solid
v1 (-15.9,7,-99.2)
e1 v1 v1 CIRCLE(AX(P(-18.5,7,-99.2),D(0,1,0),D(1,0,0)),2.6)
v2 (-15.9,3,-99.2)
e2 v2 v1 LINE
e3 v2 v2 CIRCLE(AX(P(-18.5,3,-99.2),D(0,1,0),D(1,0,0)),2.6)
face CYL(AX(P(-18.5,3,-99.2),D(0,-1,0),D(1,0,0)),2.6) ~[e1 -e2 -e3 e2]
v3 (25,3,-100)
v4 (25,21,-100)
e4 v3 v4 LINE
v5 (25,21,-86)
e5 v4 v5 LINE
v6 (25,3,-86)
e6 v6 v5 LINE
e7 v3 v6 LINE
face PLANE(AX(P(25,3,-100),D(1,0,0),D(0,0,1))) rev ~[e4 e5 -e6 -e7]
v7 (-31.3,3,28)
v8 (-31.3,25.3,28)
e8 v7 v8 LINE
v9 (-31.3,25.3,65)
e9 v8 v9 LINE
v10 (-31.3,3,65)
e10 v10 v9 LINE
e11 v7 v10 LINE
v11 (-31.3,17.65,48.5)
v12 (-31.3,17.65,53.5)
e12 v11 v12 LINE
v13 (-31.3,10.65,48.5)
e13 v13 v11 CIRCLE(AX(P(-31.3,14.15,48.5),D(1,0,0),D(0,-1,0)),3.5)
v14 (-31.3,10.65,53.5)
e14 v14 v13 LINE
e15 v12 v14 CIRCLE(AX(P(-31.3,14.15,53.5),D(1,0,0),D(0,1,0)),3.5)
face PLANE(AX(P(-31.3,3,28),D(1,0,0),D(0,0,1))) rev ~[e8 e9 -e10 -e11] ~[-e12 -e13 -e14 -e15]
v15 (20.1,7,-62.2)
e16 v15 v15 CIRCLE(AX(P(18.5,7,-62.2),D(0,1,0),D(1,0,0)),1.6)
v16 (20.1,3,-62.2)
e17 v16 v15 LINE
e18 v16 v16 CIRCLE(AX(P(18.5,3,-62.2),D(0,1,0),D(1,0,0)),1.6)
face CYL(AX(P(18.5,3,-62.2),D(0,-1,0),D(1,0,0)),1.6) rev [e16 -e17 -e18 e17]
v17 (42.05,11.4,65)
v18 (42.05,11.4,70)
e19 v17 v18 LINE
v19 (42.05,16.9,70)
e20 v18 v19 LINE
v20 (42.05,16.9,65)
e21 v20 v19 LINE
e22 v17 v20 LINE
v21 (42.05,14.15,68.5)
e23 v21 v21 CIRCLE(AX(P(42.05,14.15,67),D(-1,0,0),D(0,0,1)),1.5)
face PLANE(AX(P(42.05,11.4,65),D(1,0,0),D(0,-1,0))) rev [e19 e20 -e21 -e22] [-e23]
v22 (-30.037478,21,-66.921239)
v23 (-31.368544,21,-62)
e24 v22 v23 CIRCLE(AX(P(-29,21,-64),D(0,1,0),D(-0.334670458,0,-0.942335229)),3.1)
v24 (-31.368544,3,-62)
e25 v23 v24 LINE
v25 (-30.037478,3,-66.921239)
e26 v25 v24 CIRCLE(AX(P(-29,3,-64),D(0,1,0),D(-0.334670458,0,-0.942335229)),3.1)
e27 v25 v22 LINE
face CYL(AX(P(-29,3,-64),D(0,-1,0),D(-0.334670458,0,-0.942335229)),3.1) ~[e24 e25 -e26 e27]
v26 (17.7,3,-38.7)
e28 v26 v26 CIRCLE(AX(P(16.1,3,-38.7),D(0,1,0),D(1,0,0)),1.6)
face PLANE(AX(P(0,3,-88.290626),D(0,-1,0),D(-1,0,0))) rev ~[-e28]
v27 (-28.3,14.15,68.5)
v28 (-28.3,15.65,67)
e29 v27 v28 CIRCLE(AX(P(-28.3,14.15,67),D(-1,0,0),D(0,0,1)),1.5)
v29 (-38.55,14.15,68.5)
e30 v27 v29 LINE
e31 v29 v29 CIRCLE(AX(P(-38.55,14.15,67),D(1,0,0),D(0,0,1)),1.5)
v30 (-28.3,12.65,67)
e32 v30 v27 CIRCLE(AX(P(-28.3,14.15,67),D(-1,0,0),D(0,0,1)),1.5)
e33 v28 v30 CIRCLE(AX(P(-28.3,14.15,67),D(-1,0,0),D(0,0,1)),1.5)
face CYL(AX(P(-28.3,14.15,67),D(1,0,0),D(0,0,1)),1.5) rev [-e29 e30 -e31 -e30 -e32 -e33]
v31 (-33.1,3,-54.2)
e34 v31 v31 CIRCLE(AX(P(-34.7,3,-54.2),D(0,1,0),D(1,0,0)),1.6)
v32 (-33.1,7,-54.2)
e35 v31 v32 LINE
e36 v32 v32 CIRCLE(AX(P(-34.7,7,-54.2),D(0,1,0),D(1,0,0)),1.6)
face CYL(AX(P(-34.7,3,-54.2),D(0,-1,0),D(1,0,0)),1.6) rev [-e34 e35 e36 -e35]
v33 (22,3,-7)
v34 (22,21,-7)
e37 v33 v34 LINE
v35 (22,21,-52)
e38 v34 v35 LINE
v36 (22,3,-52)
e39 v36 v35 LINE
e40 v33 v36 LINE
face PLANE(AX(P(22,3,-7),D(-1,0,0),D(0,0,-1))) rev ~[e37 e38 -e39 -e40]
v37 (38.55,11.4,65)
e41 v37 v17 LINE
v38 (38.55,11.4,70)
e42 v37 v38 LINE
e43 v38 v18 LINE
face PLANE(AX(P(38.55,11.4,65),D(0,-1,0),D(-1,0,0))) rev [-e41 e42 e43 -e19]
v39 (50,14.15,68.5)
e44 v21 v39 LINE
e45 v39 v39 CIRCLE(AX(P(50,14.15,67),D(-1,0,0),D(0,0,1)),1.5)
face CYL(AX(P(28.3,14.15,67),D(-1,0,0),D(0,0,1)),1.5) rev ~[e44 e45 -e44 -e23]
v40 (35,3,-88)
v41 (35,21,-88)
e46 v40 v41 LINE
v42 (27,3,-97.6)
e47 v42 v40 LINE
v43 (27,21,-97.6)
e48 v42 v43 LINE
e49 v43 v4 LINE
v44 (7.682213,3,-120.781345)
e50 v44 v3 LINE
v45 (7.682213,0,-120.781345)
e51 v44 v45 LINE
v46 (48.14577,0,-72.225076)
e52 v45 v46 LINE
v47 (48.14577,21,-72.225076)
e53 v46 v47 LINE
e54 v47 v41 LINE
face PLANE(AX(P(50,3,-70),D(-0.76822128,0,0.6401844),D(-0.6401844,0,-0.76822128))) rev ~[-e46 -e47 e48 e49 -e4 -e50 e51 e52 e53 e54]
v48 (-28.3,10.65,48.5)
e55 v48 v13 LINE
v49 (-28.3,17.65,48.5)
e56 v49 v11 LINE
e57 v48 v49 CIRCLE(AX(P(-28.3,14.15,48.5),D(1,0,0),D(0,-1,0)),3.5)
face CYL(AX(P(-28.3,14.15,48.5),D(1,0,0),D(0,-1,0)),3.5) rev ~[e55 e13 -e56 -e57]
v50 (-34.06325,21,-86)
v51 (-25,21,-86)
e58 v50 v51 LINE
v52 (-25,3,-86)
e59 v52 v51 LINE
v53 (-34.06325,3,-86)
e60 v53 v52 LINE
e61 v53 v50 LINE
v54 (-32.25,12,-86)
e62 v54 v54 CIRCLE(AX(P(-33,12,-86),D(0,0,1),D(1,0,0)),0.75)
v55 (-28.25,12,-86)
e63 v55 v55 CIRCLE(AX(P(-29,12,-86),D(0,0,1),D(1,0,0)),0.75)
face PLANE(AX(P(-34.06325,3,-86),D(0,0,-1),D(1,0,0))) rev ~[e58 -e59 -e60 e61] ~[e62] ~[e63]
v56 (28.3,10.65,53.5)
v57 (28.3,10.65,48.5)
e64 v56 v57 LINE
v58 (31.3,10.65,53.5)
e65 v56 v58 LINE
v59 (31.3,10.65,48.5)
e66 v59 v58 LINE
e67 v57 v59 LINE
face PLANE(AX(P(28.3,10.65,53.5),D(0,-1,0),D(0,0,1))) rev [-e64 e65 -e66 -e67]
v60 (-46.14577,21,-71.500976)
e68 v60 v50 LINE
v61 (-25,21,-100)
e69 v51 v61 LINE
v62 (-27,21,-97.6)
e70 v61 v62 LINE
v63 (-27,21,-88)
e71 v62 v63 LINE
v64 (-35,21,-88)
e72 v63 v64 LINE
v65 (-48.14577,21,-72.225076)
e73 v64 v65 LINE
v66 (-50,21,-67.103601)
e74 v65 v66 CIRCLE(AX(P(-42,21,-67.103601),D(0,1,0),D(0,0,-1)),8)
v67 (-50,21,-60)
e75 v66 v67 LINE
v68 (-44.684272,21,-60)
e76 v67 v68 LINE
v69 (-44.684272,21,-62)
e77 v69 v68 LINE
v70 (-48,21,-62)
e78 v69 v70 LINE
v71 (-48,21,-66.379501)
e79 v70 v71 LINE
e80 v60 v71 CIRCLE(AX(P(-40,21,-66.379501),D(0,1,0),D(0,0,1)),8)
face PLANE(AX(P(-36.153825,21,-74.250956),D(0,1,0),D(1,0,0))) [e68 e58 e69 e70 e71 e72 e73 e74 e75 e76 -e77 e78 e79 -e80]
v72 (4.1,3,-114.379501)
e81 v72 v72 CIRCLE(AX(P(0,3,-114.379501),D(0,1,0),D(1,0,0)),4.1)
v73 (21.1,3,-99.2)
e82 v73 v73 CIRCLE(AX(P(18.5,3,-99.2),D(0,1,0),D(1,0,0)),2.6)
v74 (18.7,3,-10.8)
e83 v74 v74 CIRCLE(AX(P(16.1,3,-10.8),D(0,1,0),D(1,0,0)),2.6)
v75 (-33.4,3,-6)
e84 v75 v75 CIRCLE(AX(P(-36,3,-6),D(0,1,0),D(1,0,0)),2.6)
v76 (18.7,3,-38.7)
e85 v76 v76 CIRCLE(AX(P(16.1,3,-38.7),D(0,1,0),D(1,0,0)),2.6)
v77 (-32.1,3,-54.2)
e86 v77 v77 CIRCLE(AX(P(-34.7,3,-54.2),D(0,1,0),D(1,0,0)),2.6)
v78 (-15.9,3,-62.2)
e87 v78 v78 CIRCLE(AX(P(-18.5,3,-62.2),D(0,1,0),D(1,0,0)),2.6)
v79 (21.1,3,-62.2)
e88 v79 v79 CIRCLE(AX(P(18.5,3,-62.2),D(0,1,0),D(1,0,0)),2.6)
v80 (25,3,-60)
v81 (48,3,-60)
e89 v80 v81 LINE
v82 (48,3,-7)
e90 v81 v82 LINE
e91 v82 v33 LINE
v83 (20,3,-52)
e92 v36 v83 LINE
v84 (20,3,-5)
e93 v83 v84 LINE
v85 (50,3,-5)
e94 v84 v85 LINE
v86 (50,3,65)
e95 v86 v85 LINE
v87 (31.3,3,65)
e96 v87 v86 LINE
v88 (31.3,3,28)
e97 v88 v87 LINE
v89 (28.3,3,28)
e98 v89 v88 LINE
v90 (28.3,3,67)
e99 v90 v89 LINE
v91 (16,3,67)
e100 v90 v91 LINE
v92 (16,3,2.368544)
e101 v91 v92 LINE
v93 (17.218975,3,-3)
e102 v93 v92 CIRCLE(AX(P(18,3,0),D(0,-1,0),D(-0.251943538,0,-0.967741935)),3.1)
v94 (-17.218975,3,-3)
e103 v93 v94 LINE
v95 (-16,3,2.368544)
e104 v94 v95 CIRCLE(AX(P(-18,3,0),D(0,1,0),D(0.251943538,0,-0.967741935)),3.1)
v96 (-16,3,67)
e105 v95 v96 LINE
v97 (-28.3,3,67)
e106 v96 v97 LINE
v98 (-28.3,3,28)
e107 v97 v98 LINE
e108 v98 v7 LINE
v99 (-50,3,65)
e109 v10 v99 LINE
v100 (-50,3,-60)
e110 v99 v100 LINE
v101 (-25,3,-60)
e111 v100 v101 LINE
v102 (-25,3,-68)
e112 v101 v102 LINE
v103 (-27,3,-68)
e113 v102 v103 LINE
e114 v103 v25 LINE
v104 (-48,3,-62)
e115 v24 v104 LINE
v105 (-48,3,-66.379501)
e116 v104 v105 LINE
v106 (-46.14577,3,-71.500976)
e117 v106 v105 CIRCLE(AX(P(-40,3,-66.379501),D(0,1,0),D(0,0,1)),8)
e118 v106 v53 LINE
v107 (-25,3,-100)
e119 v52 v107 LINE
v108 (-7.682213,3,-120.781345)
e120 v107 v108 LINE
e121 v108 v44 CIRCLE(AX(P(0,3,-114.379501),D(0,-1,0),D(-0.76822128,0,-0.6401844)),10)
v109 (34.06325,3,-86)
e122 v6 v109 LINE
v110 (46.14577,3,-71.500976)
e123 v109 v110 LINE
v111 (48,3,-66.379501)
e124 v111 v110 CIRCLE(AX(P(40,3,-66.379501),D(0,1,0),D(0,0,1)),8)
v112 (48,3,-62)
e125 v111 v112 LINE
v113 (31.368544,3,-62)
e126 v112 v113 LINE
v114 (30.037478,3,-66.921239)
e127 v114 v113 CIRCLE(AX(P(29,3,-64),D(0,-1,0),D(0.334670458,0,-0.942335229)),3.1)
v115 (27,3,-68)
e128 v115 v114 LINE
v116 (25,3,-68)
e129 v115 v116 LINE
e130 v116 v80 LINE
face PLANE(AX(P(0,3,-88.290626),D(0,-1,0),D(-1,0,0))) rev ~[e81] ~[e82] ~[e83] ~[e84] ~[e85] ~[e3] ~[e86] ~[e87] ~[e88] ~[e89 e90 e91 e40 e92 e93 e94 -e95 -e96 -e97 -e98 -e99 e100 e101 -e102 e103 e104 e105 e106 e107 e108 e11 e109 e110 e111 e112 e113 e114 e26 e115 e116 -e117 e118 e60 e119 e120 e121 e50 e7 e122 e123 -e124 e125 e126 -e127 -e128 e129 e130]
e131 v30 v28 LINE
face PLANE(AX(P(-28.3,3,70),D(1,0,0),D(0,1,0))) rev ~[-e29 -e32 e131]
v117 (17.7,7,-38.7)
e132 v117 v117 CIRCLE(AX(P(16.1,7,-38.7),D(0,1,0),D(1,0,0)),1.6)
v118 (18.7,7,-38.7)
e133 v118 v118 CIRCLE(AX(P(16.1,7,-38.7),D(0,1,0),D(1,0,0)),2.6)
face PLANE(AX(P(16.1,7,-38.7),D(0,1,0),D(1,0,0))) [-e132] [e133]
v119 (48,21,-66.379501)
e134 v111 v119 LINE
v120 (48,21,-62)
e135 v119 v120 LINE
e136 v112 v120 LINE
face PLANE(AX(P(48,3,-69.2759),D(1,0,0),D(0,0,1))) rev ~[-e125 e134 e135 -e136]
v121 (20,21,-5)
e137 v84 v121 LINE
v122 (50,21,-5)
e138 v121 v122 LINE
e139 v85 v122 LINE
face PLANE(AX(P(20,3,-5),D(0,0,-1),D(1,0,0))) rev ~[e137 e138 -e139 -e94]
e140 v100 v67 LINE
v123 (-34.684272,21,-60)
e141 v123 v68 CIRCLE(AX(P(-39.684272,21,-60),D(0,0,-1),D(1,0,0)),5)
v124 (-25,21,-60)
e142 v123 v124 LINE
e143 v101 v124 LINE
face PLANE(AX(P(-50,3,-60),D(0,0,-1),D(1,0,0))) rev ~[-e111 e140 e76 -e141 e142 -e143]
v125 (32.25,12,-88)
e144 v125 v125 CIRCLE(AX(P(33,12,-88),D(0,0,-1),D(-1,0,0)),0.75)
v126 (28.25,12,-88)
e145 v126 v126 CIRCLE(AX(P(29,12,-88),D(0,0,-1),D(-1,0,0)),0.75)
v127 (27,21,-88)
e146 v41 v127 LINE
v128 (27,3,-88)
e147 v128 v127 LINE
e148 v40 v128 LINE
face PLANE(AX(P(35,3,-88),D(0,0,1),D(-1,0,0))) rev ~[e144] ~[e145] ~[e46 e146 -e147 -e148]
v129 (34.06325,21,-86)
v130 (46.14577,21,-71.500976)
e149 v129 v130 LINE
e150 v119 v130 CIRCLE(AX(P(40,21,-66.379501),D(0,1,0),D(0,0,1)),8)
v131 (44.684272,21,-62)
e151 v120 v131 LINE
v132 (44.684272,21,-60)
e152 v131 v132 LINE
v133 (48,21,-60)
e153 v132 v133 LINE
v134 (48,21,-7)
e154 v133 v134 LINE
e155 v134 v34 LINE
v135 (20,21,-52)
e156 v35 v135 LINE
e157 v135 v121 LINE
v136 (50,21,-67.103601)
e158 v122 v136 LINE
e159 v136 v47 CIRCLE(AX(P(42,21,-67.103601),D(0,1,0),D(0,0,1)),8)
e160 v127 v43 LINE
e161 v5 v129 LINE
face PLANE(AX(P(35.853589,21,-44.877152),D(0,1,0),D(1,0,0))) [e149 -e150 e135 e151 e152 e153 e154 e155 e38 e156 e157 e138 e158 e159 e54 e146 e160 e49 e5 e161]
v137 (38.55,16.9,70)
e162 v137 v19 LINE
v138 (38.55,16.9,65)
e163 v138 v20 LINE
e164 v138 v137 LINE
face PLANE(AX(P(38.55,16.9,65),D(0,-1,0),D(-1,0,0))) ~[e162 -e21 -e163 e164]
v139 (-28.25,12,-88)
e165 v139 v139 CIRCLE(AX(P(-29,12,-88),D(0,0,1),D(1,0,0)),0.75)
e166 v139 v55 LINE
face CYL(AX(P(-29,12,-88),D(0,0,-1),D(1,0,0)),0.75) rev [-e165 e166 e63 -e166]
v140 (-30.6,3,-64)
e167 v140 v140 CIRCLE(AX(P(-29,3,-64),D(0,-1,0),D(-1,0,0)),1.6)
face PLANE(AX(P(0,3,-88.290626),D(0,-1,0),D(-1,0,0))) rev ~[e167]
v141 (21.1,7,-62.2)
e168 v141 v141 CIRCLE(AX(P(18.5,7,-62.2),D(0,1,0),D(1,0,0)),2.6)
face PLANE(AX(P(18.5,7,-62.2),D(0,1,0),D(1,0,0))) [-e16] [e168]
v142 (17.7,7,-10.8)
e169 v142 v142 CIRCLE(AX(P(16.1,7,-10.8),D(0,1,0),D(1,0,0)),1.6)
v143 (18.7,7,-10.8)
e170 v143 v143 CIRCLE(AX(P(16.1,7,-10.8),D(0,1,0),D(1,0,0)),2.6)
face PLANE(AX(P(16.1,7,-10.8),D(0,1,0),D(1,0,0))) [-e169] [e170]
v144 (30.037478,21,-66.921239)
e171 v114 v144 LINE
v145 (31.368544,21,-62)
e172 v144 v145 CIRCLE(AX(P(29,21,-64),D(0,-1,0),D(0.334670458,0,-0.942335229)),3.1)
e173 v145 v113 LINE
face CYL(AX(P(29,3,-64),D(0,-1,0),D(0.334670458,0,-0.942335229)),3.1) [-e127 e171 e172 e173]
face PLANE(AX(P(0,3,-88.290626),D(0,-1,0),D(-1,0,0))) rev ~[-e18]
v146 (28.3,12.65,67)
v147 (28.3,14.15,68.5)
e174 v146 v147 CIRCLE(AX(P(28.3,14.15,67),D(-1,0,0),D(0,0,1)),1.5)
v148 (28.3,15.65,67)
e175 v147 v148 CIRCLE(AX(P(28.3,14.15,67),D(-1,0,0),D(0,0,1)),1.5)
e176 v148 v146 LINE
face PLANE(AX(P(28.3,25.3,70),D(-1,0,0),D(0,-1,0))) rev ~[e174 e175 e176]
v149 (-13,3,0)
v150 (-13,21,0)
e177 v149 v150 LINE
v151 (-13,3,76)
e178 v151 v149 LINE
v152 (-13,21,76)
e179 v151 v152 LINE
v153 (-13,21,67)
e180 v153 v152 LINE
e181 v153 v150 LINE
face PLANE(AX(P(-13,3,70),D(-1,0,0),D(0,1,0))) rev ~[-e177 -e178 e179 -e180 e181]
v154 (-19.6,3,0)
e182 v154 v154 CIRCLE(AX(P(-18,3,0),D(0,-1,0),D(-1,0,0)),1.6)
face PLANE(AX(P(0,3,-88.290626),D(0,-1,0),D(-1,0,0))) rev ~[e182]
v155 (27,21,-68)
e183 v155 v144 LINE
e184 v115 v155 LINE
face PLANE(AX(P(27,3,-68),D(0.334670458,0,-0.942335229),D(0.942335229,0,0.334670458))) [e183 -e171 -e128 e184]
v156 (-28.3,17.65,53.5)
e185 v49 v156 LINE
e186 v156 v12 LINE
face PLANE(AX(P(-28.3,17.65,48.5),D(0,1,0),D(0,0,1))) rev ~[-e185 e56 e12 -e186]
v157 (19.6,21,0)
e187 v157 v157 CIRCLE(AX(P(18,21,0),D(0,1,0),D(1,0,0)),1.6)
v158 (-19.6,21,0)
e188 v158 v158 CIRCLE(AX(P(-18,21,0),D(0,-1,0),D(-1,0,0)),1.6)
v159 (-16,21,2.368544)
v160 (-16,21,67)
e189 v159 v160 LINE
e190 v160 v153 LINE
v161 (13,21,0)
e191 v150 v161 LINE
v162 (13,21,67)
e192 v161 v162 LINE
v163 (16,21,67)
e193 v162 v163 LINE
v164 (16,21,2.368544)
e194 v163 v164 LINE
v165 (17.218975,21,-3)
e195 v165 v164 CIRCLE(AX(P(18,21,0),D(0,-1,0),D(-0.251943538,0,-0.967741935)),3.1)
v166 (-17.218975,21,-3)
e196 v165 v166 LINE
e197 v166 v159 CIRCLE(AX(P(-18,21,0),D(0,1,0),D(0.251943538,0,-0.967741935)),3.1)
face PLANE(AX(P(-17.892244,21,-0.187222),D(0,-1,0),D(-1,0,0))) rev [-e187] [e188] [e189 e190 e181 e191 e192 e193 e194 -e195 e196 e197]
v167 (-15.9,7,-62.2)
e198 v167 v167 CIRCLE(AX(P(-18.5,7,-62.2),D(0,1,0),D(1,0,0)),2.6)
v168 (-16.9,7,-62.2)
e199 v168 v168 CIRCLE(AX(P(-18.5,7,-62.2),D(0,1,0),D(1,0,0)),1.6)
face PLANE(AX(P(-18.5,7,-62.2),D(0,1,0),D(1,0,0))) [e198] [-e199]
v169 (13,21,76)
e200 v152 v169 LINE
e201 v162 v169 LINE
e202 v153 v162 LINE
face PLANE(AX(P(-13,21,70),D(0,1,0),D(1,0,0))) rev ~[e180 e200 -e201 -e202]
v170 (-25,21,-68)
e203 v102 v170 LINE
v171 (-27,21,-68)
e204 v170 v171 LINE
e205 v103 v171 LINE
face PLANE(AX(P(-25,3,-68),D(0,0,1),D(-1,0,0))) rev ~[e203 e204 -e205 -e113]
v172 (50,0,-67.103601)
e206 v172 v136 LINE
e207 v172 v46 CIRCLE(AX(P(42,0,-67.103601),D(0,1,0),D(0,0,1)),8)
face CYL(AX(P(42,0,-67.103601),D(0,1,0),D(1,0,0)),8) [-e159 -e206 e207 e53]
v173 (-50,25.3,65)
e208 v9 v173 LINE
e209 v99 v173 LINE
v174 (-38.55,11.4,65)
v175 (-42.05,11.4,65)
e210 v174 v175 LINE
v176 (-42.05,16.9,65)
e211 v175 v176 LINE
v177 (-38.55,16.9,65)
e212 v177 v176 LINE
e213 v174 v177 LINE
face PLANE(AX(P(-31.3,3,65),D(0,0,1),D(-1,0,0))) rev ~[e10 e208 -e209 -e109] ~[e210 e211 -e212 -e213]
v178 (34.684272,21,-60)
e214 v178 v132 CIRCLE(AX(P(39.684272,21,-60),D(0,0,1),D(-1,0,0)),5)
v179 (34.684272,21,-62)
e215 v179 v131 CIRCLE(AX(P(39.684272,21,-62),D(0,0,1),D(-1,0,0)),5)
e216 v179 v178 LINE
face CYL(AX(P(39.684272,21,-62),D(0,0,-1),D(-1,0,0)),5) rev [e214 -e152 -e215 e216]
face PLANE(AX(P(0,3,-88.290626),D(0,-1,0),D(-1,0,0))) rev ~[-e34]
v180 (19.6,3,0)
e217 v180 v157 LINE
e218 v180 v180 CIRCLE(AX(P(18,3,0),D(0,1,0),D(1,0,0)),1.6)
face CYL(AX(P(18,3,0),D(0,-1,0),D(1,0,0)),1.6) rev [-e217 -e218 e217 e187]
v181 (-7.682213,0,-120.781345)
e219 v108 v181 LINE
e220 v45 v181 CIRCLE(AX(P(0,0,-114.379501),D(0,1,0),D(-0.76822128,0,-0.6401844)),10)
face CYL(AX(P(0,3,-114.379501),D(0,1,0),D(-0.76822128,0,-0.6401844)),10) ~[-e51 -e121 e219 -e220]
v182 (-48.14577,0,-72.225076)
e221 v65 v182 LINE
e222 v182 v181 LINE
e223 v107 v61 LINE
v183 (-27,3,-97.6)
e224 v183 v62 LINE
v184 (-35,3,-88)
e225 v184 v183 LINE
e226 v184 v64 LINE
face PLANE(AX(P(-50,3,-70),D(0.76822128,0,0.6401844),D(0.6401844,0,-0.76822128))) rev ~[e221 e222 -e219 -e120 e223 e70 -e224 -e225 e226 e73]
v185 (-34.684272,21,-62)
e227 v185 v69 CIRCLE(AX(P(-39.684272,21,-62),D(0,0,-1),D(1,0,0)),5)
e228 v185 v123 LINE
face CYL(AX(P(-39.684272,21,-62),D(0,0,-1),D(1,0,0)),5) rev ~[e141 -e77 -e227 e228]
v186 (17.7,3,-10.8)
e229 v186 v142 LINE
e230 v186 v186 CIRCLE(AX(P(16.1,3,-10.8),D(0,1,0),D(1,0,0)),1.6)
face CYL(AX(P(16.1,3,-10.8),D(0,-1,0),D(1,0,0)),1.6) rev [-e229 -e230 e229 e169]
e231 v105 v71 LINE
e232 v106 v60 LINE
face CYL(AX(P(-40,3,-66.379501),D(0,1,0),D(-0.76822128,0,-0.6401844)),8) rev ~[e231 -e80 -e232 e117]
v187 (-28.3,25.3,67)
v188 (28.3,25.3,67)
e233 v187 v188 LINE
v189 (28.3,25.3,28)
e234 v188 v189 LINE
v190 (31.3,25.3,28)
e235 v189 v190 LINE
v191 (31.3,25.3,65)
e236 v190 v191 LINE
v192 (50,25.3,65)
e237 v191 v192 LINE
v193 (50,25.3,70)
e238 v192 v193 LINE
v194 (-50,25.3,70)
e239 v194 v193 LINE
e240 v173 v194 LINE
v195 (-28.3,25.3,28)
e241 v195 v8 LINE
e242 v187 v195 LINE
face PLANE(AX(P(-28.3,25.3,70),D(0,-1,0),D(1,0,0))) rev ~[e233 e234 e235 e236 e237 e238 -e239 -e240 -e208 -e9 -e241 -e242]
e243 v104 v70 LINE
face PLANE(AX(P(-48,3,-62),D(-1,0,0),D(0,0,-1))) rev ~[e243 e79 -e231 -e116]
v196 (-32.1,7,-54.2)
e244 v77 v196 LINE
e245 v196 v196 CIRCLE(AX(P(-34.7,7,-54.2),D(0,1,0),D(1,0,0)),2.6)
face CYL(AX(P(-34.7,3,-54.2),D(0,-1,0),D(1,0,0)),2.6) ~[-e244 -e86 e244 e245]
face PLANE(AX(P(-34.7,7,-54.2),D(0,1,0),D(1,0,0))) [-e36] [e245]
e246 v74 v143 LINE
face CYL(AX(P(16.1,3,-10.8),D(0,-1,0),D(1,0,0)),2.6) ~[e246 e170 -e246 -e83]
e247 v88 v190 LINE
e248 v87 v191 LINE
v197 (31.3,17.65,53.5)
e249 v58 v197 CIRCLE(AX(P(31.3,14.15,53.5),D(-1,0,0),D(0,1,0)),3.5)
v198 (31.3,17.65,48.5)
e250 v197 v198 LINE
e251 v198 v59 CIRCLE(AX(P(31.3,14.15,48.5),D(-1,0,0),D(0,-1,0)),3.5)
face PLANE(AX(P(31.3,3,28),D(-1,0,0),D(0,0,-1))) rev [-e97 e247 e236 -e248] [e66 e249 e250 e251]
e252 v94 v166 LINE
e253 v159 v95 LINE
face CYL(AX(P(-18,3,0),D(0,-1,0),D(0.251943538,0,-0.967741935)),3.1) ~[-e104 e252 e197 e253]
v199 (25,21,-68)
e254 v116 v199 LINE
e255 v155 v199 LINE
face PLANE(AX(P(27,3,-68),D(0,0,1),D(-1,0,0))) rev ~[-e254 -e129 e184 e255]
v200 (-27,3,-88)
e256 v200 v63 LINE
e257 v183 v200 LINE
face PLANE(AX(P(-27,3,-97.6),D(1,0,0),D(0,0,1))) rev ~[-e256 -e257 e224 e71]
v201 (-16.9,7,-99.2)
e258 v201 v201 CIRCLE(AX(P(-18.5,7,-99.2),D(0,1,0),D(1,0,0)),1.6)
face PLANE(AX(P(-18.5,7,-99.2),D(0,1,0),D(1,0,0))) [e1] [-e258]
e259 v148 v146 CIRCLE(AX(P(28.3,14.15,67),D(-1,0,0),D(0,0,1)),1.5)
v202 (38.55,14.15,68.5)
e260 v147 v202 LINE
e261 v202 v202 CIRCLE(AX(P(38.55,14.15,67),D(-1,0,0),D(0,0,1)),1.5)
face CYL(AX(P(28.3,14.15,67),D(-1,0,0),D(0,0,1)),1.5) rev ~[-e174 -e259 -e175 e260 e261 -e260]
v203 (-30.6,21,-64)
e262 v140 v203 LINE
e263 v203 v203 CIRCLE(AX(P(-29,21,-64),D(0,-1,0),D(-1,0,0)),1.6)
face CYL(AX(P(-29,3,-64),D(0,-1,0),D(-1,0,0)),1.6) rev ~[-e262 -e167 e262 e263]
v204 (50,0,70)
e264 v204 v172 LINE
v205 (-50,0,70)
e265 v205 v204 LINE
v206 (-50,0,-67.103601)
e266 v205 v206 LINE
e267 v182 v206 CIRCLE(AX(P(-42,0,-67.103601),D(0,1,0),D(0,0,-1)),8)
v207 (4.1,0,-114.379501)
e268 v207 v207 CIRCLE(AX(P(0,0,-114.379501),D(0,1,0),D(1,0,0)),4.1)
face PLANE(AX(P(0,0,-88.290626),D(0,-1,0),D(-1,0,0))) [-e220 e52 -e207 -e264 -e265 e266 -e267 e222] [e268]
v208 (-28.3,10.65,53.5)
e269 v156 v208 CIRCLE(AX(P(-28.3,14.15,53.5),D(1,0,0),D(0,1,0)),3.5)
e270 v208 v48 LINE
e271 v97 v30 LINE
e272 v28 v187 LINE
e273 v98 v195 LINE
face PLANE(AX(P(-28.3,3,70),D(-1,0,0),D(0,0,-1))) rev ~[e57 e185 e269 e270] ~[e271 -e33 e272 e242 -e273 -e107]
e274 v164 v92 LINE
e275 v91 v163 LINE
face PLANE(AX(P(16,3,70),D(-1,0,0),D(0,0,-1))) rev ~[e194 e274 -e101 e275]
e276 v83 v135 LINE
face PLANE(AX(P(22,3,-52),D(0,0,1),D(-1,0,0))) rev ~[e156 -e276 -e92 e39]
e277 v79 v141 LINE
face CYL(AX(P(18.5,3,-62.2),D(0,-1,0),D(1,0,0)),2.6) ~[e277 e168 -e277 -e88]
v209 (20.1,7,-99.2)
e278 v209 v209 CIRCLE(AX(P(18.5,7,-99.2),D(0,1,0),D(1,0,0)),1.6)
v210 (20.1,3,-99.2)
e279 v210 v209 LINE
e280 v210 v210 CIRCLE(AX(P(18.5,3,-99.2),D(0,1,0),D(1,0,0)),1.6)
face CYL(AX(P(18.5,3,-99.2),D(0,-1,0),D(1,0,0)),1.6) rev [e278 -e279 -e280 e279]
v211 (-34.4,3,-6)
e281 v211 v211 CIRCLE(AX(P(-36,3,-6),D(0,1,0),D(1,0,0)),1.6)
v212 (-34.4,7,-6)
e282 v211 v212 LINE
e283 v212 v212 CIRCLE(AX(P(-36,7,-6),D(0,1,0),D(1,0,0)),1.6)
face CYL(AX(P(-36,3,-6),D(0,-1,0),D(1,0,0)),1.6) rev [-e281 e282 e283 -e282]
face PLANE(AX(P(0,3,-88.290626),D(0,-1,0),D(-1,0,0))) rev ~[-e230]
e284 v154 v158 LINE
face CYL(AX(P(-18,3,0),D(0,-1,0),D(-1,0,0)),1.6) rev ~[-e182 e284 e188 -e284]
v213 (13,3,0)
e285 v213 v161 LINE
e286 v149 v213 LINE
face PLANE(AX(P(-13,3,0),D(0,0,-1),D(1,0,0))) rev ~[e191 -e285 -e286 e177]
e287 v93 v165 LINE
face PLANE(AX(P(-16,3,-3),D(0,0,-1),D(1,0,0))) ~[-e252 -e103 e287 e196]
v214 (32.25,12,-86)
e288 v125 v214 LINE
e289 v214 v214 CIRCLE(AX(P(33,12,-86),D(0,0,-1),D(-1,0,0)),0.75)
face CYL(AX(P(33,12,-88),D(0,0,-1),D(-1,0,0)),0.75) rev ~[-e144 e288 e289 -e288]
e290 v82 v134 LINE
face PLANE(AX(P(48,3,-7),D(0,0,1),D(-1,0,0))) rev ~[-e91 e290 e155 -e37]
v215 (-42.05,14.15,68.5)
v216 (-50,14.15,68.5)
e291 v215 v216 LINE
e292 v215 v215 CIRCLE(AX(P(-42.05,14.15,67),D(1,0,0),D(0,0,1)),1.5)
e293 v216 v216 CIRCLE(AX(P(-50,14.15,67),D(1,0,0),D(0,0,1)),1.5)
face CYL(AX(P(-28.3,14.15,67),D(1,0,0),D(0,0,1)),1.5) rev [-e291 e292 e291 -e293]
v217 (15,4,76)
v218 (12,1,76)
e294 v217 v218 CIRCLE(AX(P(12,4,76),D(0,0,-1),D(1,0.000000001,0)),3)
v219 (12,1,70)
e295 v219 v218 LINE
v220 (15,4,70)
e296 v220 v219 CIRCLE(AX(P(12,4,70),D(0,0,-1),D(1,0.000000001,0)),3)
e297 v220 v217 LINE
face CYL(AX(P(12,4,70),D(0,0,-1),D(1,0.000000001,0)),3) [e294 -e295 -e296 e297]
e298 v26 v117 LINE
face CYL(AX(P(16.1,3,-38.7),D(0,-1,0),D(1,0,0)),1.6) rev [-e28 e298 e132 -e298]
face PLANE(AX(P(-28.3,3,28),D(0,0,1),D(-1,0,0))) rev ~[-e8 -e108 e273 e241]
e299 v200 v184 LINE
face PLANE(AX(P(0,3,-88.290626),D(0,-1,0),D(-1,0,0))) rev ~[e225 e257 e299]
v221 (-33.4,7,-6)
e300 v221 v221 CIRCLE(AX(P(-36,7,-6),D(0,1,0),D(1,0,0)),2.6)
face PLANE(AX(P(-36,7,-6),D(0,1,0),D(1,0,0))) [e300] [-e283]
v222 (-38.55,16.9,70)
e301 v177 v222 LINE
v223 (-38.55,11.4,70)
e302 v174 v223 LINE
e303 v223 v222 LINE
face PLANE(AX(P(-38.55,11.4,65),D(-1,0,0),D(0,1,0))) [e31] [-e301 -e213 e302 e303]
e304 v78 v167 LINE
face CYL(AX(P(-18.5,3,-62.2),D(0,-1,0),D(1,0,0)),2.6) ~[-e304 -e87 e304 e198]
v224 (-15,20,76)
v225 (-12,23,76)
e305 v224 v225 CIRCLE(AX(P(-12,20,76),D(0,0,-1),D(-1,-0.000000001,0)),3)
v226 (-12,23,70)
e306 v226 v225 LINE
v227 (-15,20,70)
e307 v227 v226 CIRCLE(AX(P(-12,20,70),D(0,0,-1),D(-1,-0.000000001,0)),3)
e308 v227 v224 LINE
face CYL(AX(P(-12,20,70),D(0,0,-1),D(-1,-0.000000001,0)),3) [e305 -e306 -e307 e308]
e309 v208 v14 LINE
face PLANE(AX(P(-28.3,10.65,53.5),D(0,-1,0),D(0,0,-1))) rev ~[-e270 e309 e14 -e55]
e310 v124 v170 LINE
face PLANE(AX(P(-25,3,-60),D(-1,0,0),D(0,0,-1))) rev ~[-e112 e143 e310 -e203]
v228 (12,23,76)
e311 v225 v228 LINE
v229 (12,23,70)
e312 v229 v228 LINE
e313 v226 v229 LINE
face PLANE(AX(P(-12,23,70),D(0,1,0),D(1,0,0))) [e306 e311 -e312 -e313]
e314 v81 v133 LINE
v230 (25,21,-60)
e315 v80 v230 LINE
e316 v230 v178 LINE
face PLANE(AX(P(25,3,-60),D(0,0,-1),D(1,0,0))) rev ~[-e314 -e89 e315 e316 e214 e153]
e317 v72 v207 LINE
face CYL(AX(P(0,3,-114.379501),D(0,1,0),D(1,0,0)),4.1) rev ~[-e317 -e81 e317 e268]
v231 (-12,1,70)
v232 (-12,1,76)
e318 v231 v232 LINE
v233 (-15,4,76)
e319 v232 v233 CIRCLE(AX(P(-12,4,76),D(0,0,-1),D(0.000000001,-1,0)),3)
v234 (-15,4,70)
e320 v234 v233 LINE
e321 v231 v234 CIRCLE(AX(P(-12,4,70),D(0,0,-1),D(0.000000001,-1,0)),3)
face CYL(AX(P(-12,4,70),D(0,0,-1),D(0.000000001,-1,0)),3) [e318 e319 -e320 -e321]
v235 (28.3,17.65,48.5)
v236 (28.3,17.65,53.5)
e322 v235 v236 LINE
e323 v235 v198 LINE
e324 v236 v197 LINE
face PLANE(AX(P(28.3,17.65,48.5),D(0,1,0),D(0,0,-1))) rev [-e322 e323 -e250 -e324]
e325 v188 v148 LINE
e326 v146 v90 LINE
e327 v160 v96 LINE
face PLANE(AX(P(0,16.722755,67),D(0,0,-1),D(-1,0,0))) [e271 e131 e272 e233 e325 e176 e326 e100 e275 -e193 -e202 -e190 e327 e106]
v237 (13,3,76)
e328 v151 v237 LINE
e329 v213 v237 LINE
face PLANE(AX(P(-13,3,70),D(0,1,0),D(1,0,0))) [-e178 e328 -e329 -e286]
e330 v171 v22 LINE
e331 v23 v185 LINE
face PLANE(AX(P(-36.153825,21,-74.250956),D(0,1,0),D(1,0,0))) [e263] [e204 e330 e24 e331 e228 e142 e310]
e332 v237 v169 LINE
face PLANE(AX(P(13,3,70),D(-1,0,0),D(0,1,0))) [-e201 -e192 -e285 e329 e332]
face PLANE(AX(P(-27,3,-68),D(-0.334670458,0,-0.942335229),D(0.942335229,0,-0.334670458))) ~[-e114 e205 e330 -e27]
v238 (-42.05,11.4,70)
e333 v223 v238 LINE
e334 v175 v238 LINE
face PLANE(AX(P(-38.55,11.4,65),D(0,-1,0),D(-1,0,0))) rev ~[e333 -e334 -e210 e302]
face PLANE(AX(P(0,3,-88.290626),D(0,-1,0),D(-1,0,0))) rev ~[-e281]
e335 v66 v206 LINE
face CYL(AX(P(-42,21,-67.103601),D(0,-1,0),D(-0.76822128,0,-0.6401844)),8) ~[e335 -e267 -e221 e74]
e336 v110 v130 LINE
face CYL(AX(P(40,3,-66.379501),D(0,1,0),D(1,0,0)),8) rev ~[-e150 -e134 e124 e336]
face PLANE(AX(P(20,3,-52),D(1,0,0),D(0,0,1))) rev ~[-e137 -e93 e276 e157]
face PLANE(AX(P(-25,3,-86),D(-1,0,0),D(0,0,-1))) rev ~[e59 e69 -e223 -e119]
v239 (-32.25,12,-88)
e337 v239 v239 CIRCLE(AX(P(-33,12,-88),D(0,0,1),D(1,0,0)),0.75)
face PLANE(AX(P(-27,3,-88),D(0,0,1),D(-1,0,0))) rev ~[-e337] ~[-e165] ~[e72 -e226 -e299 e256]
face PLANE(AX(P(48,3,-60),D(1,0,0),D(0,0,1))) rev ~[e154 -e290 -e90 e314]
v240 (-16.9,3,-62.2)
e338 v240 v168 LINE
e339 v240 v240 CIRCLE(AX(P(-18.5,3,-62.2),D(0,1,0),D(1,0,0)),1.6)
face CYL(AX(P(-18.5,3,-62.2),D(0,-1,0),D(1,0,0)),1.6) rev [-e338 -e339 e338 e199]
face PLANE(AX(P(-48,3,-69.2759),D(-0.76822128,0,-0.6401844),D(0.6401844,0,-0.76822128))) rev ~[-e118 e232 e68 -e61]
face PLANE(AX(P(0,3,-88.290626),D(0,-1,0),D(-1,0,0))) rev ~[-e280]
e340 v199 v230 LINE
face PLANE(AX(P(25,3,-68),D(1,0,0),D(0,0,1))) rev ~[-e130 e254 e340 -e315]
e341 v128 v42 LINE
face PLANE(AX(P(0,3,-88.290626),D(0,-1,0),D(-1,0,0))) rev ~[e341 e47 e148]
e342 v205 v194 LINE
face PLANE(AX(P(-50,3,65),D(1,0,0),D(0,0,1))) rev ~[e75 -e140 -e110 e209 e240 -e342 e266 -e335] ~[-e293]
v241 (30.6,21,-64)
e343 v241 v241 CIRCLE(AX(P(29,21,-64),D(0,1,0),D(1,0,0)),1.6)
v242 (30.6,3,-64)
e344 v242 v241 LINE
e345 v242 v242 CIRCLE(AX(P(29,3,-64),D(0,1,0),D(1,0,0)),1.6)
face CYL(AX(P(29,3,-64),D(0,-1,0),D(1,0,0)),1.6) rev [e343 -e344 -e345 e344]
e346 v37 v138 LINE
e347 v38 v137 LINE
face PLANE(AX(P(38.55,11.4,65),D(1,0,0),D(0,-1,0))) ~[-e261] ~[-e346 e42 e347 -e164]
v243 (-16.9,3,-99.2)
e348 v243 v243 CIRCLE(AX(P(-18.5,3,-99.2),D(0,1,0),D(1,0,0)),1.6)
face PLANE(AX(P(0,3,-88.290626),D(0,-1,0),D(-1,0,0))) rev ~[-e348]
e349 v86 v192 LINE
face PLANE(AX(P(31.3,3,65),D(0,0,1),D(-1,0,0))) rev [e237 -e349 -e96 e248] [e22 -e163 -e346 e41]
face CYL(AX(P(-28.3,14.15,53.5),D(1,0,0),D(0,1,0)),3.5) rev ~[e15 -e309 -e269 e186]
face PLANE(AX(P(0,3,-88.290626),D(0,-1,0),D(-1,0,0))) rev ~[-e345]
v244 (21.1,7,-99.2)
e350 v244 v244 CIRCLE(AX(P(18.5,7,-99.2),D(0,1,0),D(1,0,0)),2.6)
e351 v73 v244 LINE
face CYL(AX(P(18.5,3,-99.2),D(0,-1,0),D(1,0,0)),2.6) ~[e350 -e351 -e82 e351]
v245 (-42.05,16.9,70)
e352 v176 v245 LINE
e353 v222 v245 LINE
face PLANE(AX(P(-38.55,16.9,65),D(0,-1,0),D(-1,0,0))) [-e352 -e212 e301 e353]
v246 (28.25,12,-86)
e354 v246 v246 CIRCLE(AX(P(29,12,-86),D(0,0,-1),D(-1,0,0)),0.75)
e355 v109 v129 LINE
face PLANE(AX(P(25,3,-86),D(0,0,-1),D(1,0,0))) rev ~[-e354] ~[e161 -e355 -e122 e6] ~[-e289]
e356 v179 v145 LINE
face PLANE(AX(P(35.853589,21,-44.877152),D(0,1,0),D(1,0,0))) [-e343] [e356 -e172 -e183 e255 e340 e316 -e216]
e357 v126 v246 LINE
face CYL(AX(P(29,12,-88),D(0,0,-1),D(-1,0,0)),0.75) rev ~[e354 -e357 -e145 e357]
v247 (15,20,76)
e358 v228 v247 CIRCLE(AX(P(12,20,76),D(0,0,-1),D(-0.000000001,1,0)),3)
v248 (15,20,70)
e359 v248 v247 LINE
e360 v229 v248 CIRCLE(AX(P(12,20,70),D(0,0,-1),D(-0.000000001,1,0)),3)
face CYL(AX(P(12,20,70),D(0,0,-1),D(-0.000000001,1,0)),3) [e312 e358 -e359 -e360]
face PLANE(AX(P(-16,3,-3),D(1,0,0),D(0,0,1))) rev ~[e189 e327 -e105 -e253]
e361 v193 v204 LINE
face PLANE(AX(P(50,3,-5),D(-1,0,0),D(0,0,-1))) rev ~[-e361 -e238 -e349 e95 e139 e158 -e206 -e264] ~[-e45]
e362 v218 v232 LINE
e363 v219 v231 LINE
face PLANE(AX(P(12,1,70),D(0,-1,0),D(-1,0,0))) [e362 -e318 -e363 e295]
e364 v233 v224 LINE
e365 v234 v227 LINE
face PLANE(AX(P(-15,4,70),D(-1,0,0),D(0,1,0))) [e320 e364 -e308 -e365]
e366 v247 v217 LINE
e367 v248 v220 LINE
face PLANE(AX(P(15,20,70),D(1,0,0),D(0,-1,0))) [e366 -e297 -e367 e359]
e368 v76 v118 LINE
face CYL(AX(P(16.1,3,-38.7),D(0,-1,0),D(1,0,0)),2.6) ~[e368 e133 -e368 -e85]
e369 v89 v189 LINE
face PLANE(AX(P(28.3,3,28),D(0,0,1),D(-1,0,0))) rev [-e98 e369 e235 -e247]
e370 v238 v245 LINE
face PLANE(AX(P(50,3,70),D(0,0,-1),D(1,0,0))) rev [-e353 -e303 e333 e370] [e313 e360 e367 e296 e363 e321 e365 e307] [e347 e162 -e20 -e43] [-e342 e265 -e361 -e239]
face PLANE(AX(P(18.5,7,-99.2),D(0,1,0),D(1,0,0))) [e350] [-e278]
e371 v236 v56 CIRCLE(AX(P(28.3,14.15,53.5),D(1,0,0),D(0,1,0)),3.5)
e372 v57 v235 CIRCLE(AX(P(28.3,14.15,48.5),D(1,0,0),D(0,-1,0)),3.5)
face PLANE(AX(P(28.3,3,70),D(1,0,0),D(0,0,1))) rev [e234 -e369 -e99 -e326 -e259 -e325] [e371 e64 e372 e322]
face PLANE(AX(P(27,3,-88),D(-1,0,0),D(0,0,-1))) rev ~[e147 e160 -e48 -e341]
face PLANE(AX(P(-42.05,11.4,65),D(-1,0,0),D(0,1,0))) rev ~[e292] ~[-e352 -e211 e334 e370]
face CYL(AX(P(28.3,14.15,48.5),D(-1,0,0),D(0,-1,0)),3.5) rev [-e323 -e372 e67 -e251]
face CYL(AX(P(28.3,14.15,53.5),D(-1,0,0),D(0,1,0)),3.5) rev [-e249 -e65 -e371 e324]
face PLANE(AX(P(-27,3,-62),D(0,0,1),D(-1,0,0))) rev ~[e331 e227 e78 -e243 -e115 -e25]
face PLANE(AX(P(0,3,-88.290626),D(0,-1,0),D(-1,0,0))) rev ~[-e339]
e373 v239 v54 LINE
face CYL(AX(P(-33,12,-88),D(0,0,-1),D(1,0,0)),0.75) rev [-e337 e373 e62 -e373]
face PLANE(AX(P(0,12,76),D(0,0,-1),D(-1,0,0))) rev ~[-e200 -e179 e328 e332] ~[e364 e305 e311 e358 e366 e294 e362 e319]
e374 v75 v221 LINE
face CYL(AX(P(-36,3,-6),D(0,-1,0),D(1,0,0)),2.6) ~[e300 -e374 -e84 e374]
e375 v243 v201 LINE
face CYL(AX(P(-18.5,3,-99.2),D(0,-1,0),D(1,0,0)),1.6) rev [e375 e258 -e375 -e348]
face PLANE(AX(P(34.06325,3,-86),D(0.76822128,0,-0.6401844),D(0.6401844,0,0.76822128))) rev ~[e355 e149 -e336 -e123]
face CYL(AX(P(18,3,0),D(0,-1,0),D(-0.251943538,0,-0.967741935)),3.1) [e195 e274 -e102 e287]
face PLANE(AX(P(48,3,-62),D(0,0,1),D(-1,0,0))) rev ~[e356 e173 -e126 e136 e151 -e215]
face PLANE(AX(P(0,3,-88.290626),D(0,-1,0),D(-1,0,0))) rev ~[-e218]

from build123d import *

# Parameters (mm, degrees)
SKETCH1_W            = 100
SKETCH1_H            = 140
BOSS_EXTRUDE1_DEPTH  = 3
BOSS_EXTRUDE2_DEPTH  = 22.3
SKETCH4_W            = 3.5
SKETCH4_H            = 5.5
CUT_EXTRUDE2_DEPTH   = 5
CUT_EXTRUDE1_START   = -3
SKETCH3_R            = 1.5
CUT_EXTRUDE1_DEPTH   = 22.7
BOSS_EXTRUDE3_DEPTH  = 18
BOSS_EXTRUDE4_DEPTH  = 3
SKETCH7_W            = 26
SKETCH7_H            = 18
BOSS_EXTRUDE5_DEPTH  = 6
BOSS_EXTRUDE8_DEPTH  = 3
SKETCH9_R            = 2.6
SKETCH9_R_2          = 1.6
BOSS_EXTRUDE7_DEPTH  = 4
BOSS_EXTRUDE9_DEPTH  = 18
SKETCH13_R           = 1.6
BOSS_EXTRUDE10_DEPTH = 18
CUT_EXTRUDE3_REACH   = 5
SKETCH12_R           = 4.1
SKETCH14_R           = 0.75
CUT_EXTRUDE4_DEPTH   = 2
CUT_EXTRUDE5_DEPTH   = 2
FILLET2_R            = 8


with BuildPart() as part:
    # Sketch1 → Boss-Extrude1 (new body)
    with BuildSketch(Plane(origin=(0, 0, 0), x_dir=(1, 0, 0), z_dir=(0, 1, 0))):
        Rectangle(SKETCH1_W, SKETCH1_H)
    extrude(amount=BOSS_EXTRUDE1_DEPTH)

    # Sketch2 → Boss-Extrude2 (add)
    with BuildSketch(Plane(origin=(0, 3, 0), x_dir=(1, 0, 0), z_dir=(0, 1, 0))):
        Polygon((-50, -65), (-50, -70), (-28.3, -70), (-28.3, -28), (-31.3, -28), (-31.3, -65), align=None)
    boss_extrude2 = extrude(amount=BOSS_EXTRUDE2_DEPTH)

    # Sketch4 → Cut-Extrude2 (cut)
    with BuildSketch(Plane(origin=(0, 0, 65), x_dir=(-1, 0, 0), z_dir=(0, 0, -1))):
        with Locations((40.3, 14.15)):
            Rectangle(SKETCH4_W, SKETCH4_H)
    cut_extrude2 = extrude(amount=-CUT_EXTRUDE2_DEPTH, mode=Mode.SUBTRACT)

    # Sketch3 → Cut-Extrude1 (cut)
    with BuildSketch(Plane.ZY.offset(31.3).offset(CUT_EXTRUDE1_START)):
        with Locations((67, 14.15)):
            Circle(SKETCH3_R)
        with BuildLine():
            Line((53.5, 10.65), (48.5, 10.65))
            ThreePointArc((48.5, 10.65), (45, 14.15), (48.5, 17.65))
            Line((48.5, 17.65), (53.5, 17.65))
            ThreePointArc((53.5, 17.65), (57, 14.15), (53.5, 10.65))
        make_face()
    cut_extrude1 = extrude(amount=CUT_EXTRUDE1_DEPTH, mode=Mode.SUBTRACT)

    # Mirror1: Boss-Extrude2, Cut-Extrude2, Cut-Extrude1 across plane
    add(boss_extrude2.mirror(Plane(origin=(0, 0, 0), x_dir=(0, 0, 1), z_dir=(1, 0, 0))))
    add(cut_extrude2.mirror(Plane(origin=(0, 0, 0), x_dir=(0, 0, 1), z_dir=(1, 0, 0))), mode=Mode.SUBTRACT)
    add(cut_extrude1.mirror(Plane(origin=(0, 0, 0), x_dir=(0, 0, 1), z_dir=(1, 0, 0))), mode=Mode.SUBTRACT)

    # Sketch5 → Boss-Extrude3 (add)
    with BuildSketch(Plane(origin=(0, 3, 0), x_dir=(1, 0, 0), z_dir=(0, 1, 0))):
        Polygon((13, -70), (16, -70), (16, 3), (-16, 3), (-16, -70), (-13, -70), (-13, 0), (13, 0), align=None)
    extrude(amount=BOSS_EXTRUDE3_DEPTH)

    # Sketch6 → Boss-Extrude4 (add)
    with BuildSketch(Plane.XY.offset(70)):
        Polygon((28.3, 25.3), (28.3, 3), (16, 3), (16, 21), (13, 21), (-13, 21), (-16, 21), (-16, 3), (-28.3, 3), (-28.3, 25.3), align=None)
    extrude(amount=-BOSS_EXTRUDE4_DEPTH)

    # Sketch7 → Boss-Extrude5 (add)
    with BuildSketch(Plane.XY.offset(70)):
        with BuildLine():
            Line((-12, 23), (12, 23))
            ThreePointArc((12, 23), (14.121320344, 22.121320344), (15, 20))
            Line((15, 20), (15, 4))
            ThreePointArc((15, 4), (14.121320344, 1.878679656), (12, 1))
            Line((12, 1), (-12, 1))
            ThreePointArc((-12, 1), (-14.121320344, 1.878679656), (-15, 4))
            Line((-15, 4), (-15, 20))
            ThreePointArc((-15, 20), (-14.121320344, 22.121320344), (-12, 23))
        make_face()
        with Locations((0, 12)):
            Rectangle(SKETCH7_W, SKETCH7_H, mode=Mode.SUBTRACT)
    extrude(amount=BOSS_EXTRUDE5_DEPTH)

    # Sketch10 → Boss-Extrude8 (add)
    with BuildSketch(Plane(origin=(0, 3, 0), x_dir=(1, 0, 0), z_dir=(0, 1, 0))):
        Polygon((50, 70), (-50, 70), (0, 130), align=None)
    extrude(amount=-BOSS_EXTRUDE8_DEPTH)

    # Sketch9 → Boss-Extrude7 (add)
    with BuildSketch(Plane(origin=(0, 3, 0), x_dir=(1, 0, 0), z_dir=(0, 1, 0))):
        with Locations((-34.7, 54.2)):
            Circle(SKETCH9_R)
        with Locations((-34.7, 54.2)):
            Circle(SKETCH9_R_2, mode=Mode.SUBTRACT)
        with Locations((-36, 6)):
            Circle(SKETCH9_R)
        with Locations((-36, 6)):
            Circle(SKETCH9_R_2, mode=Mode.SUBTRACT)
        with Locations((16.1, 10.8)):
            Circle(SKETCH9_R)
        with Locations((16.1, 10.8)):
            Circle(SKETCH9_R_2, mode=Mode.SUBTRACT)
        with Locations((16.1, 38.7)):
            Circle(SKETCH9_R)
        with Locations((16.1, 38.7)):
            Circle(SKETCH9_R_2, mode=Mode.SUBTRACT)
        with Locations((-18.5, 62.2)):
            Circle(SKETCH9_R)
        with Locations((-18.5, 62.2)):
            Circle(SKETCH9_R_2, mode=Mode.SUBTRACT)
        with Locations((-18.5, 99.2)):
            Circle(SKETCH9_R)
        with Locations((-18.5, 99.2)):
            Circle(SKETCH9_R_2, mode=Mode.SUBTRACT)
        with Locations((18.5, 99.2)):
            Circle(SKETCH9_R)
        with Locations((18.5, 99.2)):
            Circle(SKETCH9_R_2, mode=Mode.SUBTRACT)
        with Locations((18.5, 62.2)):
            Circle(SKETCH9_R)
        with Locations((18.5, 62.2)):
            Circle(SKETCH9_R_2, mode=Mode.SUBTRACT)
    extrude(amount=BOSS_EXTRUDE7_DEPTH)

    # Sketch11 → Boss-Extrude9 (add)
    with BuildSketch(Plane(origin=(0, 3, 0), x_dir=(1, 0, 0), z_dir=(0, 1, 0))):
        Polygon((50, 5), (50, 70), (35, 88), (27, 88), (27, 97.6), (25, 100), (25, 96.87590013), (25, 86), (27, 86), (34.063250108, 86), (48, 69.27590013), (48, 62), (27, 62), (27, 68), (25, 68), (25, 60), (48, 60), (48, 7), (22, 7), (22, 52), (20, 52), (20, 5), align=None)
        Polygon((-50, 70), (-50, 60), (-25, 60), (-25, 68), (-27, 68), (-27, 62), (-48, 62), (-48, 69.27590013), (-34.063250108, 86), (-27, 86), (-25, 86), (-25, 96.87590013), (-25, 100), (-27, 97.6), (-27, 88), (-35, 88), align=None)
    extrude(amount=BOSS_EXTRUDE9_DEPTH)

    # Sketch13 → Boss-Extrude10 (add)
    with BuildSketch(Plane(origin=(0, 3, 0), x_dir=(1, 0, 0), z_dir=(0, 1, 0))):
        with BuildLine():
            Line((16, 2.368543856), (16, 3))
            Line((16, 3), (17.218975032, 3))
            ThreePointArc((17.218975032, 3), (19.425906443, -2.752597104), (16, 2.368543856))
        make_face()
        with Locations((18, 0)):
            Circle(SKETCH13_R, mode=Mode.SUBTRACT)
        with BuildLine():
            Line((27, 66.368543856), (27, 68))
            Line((27, 68), (30.037478421, 66.921239211))
            ThreePointArc((30.037478421, 66.921239211), (29.554959445, 60.950078687), (27, 66.368543856))
        make_face()
        with Locations((29, 64)):
            Circle(SKETCH13_R, mode=Mode.SUBTRACT)
    boss_extrude10 = extrude(amount=BOSS_EXTRUDE10_DEPTH)

    # Sketch12 → Cut-Extrude3 (cut, up to next)
    with BuildSketch(Plane(origin=(0, 3, 0), x_dir=(1, 0, 0), z_dir=(0, 1, 0)), mode=Mode.PRIVATE) as cut_extrude3_sk1:
        with Locations((0, 114.379500648)):
            Circle(SKETCH12_R)
    cut_extrude3_tool1 = extrude(cut_extrude3_sk1.sketch, amount=-CUT_EXTRUDE3_REACH, mode=Mode.PRIVATE) & part.part
    add(cut_extrude3_tool1.solids().sort_by_distance((0, 3, -114.379501))[0], mode=Mode.SUBTRACT)
    # Sketch12 → Cut-Extrude3 (cut, up to next)
    with BuildSketch(Plane(origin=(0, 3, 0), x_dir=(1, 0, 0), z_dir=(0, 1, 0)), mode=Mode.PRIVATE) as cut_extrude3_sk2:
        with BuildLine():
            Line((7.682212796, 120.781344645), (0, 130))
            Line((0, 130), (-7.682212796, 120.781344645))
            ThreePointArc((-7.682212796, 120.781344645), (0, 124.379500648), (7.682212796, 120.781344645))
        make_face()
    cut_extrude3_tool2 = extrude(cut_extrude3_sk2.sketch, amount=-CUT_EXTRUDE3_REACH, mode=Mode.PRIVATE) & part.part
    add(cut_extrude3_tool2.solids().sort_by_distance((0, 3, -125.762596))[0], mode=Mode.SUBTRACT)

    # Sketch14 → Cut-Extrude4 (cut)
    with BuildSketch(Plane(origin=(0, 0, -88), x_dir=(-1, 0, 0), z_dir=(0, 0, -1))):
        with Locations((-29, 12)):
            Circle(SKETCH14_R)
        with Locations((-33, 12)):
            Circle(SKETCH14_R)
    cut_extrude4 = extrude(amount=-CUT_EXTRUDE4_DEPTH, mode=Mode.SUBTRACT)

    # Sketch15 → Cut-Extrude5 (cut)
    with BuildSketch(Plane(origin=(0, 0, -62), x_dir=(-1, 0, 0), z_dir=(0, 0, -1))):
        with BuildLine():
            Line((-44.684271928, 21), (-34.684271928, 21))
            ThreePointArc((-34.684271928, 21), (-39.684271928, 16), (-44.684271928, 21))
        make_face()
    cut_extrude5 = extrude(amount=-CUT_EXTRUDE5_DEPTH, mode=Mode.SUBTRACT)

    # Fillet2
    fillet2_edges = [part.edges().sort_by_distance(p)[0] for p in [
        (48, 12, -69.27590013),
        (-48, 12, -69.27590013),
        (-50, 10.5, -70),
        (50, 10.5, -70),
    ]]
    fillet(fillet2_edges, radius=FILLET2_R)

    # Mirror2: Boss-Extrude10, Cut-Extrude4, Cut-Extrude5 across plane
    add(boss_extrude10.mirror(Plane(origin=(0, 0, 0), x_dir=(0, 0, 1), z_dir=(1, 0, 0))))
    add(cut_extrude4.mirror(Plane(origin=(0, 0, 0), x_dir=(0, 0, 1), z_dir=(1, 0, 0))), mode=Mode.SUBTRACT)
    add(cut_extrude5.mirror(Plane(origin=(0, 0, 0), x_dir=(0, 0, 1), z_dir=(1, 0, 0))), mode=Mode.SUBTRACT)


solid = part.part
